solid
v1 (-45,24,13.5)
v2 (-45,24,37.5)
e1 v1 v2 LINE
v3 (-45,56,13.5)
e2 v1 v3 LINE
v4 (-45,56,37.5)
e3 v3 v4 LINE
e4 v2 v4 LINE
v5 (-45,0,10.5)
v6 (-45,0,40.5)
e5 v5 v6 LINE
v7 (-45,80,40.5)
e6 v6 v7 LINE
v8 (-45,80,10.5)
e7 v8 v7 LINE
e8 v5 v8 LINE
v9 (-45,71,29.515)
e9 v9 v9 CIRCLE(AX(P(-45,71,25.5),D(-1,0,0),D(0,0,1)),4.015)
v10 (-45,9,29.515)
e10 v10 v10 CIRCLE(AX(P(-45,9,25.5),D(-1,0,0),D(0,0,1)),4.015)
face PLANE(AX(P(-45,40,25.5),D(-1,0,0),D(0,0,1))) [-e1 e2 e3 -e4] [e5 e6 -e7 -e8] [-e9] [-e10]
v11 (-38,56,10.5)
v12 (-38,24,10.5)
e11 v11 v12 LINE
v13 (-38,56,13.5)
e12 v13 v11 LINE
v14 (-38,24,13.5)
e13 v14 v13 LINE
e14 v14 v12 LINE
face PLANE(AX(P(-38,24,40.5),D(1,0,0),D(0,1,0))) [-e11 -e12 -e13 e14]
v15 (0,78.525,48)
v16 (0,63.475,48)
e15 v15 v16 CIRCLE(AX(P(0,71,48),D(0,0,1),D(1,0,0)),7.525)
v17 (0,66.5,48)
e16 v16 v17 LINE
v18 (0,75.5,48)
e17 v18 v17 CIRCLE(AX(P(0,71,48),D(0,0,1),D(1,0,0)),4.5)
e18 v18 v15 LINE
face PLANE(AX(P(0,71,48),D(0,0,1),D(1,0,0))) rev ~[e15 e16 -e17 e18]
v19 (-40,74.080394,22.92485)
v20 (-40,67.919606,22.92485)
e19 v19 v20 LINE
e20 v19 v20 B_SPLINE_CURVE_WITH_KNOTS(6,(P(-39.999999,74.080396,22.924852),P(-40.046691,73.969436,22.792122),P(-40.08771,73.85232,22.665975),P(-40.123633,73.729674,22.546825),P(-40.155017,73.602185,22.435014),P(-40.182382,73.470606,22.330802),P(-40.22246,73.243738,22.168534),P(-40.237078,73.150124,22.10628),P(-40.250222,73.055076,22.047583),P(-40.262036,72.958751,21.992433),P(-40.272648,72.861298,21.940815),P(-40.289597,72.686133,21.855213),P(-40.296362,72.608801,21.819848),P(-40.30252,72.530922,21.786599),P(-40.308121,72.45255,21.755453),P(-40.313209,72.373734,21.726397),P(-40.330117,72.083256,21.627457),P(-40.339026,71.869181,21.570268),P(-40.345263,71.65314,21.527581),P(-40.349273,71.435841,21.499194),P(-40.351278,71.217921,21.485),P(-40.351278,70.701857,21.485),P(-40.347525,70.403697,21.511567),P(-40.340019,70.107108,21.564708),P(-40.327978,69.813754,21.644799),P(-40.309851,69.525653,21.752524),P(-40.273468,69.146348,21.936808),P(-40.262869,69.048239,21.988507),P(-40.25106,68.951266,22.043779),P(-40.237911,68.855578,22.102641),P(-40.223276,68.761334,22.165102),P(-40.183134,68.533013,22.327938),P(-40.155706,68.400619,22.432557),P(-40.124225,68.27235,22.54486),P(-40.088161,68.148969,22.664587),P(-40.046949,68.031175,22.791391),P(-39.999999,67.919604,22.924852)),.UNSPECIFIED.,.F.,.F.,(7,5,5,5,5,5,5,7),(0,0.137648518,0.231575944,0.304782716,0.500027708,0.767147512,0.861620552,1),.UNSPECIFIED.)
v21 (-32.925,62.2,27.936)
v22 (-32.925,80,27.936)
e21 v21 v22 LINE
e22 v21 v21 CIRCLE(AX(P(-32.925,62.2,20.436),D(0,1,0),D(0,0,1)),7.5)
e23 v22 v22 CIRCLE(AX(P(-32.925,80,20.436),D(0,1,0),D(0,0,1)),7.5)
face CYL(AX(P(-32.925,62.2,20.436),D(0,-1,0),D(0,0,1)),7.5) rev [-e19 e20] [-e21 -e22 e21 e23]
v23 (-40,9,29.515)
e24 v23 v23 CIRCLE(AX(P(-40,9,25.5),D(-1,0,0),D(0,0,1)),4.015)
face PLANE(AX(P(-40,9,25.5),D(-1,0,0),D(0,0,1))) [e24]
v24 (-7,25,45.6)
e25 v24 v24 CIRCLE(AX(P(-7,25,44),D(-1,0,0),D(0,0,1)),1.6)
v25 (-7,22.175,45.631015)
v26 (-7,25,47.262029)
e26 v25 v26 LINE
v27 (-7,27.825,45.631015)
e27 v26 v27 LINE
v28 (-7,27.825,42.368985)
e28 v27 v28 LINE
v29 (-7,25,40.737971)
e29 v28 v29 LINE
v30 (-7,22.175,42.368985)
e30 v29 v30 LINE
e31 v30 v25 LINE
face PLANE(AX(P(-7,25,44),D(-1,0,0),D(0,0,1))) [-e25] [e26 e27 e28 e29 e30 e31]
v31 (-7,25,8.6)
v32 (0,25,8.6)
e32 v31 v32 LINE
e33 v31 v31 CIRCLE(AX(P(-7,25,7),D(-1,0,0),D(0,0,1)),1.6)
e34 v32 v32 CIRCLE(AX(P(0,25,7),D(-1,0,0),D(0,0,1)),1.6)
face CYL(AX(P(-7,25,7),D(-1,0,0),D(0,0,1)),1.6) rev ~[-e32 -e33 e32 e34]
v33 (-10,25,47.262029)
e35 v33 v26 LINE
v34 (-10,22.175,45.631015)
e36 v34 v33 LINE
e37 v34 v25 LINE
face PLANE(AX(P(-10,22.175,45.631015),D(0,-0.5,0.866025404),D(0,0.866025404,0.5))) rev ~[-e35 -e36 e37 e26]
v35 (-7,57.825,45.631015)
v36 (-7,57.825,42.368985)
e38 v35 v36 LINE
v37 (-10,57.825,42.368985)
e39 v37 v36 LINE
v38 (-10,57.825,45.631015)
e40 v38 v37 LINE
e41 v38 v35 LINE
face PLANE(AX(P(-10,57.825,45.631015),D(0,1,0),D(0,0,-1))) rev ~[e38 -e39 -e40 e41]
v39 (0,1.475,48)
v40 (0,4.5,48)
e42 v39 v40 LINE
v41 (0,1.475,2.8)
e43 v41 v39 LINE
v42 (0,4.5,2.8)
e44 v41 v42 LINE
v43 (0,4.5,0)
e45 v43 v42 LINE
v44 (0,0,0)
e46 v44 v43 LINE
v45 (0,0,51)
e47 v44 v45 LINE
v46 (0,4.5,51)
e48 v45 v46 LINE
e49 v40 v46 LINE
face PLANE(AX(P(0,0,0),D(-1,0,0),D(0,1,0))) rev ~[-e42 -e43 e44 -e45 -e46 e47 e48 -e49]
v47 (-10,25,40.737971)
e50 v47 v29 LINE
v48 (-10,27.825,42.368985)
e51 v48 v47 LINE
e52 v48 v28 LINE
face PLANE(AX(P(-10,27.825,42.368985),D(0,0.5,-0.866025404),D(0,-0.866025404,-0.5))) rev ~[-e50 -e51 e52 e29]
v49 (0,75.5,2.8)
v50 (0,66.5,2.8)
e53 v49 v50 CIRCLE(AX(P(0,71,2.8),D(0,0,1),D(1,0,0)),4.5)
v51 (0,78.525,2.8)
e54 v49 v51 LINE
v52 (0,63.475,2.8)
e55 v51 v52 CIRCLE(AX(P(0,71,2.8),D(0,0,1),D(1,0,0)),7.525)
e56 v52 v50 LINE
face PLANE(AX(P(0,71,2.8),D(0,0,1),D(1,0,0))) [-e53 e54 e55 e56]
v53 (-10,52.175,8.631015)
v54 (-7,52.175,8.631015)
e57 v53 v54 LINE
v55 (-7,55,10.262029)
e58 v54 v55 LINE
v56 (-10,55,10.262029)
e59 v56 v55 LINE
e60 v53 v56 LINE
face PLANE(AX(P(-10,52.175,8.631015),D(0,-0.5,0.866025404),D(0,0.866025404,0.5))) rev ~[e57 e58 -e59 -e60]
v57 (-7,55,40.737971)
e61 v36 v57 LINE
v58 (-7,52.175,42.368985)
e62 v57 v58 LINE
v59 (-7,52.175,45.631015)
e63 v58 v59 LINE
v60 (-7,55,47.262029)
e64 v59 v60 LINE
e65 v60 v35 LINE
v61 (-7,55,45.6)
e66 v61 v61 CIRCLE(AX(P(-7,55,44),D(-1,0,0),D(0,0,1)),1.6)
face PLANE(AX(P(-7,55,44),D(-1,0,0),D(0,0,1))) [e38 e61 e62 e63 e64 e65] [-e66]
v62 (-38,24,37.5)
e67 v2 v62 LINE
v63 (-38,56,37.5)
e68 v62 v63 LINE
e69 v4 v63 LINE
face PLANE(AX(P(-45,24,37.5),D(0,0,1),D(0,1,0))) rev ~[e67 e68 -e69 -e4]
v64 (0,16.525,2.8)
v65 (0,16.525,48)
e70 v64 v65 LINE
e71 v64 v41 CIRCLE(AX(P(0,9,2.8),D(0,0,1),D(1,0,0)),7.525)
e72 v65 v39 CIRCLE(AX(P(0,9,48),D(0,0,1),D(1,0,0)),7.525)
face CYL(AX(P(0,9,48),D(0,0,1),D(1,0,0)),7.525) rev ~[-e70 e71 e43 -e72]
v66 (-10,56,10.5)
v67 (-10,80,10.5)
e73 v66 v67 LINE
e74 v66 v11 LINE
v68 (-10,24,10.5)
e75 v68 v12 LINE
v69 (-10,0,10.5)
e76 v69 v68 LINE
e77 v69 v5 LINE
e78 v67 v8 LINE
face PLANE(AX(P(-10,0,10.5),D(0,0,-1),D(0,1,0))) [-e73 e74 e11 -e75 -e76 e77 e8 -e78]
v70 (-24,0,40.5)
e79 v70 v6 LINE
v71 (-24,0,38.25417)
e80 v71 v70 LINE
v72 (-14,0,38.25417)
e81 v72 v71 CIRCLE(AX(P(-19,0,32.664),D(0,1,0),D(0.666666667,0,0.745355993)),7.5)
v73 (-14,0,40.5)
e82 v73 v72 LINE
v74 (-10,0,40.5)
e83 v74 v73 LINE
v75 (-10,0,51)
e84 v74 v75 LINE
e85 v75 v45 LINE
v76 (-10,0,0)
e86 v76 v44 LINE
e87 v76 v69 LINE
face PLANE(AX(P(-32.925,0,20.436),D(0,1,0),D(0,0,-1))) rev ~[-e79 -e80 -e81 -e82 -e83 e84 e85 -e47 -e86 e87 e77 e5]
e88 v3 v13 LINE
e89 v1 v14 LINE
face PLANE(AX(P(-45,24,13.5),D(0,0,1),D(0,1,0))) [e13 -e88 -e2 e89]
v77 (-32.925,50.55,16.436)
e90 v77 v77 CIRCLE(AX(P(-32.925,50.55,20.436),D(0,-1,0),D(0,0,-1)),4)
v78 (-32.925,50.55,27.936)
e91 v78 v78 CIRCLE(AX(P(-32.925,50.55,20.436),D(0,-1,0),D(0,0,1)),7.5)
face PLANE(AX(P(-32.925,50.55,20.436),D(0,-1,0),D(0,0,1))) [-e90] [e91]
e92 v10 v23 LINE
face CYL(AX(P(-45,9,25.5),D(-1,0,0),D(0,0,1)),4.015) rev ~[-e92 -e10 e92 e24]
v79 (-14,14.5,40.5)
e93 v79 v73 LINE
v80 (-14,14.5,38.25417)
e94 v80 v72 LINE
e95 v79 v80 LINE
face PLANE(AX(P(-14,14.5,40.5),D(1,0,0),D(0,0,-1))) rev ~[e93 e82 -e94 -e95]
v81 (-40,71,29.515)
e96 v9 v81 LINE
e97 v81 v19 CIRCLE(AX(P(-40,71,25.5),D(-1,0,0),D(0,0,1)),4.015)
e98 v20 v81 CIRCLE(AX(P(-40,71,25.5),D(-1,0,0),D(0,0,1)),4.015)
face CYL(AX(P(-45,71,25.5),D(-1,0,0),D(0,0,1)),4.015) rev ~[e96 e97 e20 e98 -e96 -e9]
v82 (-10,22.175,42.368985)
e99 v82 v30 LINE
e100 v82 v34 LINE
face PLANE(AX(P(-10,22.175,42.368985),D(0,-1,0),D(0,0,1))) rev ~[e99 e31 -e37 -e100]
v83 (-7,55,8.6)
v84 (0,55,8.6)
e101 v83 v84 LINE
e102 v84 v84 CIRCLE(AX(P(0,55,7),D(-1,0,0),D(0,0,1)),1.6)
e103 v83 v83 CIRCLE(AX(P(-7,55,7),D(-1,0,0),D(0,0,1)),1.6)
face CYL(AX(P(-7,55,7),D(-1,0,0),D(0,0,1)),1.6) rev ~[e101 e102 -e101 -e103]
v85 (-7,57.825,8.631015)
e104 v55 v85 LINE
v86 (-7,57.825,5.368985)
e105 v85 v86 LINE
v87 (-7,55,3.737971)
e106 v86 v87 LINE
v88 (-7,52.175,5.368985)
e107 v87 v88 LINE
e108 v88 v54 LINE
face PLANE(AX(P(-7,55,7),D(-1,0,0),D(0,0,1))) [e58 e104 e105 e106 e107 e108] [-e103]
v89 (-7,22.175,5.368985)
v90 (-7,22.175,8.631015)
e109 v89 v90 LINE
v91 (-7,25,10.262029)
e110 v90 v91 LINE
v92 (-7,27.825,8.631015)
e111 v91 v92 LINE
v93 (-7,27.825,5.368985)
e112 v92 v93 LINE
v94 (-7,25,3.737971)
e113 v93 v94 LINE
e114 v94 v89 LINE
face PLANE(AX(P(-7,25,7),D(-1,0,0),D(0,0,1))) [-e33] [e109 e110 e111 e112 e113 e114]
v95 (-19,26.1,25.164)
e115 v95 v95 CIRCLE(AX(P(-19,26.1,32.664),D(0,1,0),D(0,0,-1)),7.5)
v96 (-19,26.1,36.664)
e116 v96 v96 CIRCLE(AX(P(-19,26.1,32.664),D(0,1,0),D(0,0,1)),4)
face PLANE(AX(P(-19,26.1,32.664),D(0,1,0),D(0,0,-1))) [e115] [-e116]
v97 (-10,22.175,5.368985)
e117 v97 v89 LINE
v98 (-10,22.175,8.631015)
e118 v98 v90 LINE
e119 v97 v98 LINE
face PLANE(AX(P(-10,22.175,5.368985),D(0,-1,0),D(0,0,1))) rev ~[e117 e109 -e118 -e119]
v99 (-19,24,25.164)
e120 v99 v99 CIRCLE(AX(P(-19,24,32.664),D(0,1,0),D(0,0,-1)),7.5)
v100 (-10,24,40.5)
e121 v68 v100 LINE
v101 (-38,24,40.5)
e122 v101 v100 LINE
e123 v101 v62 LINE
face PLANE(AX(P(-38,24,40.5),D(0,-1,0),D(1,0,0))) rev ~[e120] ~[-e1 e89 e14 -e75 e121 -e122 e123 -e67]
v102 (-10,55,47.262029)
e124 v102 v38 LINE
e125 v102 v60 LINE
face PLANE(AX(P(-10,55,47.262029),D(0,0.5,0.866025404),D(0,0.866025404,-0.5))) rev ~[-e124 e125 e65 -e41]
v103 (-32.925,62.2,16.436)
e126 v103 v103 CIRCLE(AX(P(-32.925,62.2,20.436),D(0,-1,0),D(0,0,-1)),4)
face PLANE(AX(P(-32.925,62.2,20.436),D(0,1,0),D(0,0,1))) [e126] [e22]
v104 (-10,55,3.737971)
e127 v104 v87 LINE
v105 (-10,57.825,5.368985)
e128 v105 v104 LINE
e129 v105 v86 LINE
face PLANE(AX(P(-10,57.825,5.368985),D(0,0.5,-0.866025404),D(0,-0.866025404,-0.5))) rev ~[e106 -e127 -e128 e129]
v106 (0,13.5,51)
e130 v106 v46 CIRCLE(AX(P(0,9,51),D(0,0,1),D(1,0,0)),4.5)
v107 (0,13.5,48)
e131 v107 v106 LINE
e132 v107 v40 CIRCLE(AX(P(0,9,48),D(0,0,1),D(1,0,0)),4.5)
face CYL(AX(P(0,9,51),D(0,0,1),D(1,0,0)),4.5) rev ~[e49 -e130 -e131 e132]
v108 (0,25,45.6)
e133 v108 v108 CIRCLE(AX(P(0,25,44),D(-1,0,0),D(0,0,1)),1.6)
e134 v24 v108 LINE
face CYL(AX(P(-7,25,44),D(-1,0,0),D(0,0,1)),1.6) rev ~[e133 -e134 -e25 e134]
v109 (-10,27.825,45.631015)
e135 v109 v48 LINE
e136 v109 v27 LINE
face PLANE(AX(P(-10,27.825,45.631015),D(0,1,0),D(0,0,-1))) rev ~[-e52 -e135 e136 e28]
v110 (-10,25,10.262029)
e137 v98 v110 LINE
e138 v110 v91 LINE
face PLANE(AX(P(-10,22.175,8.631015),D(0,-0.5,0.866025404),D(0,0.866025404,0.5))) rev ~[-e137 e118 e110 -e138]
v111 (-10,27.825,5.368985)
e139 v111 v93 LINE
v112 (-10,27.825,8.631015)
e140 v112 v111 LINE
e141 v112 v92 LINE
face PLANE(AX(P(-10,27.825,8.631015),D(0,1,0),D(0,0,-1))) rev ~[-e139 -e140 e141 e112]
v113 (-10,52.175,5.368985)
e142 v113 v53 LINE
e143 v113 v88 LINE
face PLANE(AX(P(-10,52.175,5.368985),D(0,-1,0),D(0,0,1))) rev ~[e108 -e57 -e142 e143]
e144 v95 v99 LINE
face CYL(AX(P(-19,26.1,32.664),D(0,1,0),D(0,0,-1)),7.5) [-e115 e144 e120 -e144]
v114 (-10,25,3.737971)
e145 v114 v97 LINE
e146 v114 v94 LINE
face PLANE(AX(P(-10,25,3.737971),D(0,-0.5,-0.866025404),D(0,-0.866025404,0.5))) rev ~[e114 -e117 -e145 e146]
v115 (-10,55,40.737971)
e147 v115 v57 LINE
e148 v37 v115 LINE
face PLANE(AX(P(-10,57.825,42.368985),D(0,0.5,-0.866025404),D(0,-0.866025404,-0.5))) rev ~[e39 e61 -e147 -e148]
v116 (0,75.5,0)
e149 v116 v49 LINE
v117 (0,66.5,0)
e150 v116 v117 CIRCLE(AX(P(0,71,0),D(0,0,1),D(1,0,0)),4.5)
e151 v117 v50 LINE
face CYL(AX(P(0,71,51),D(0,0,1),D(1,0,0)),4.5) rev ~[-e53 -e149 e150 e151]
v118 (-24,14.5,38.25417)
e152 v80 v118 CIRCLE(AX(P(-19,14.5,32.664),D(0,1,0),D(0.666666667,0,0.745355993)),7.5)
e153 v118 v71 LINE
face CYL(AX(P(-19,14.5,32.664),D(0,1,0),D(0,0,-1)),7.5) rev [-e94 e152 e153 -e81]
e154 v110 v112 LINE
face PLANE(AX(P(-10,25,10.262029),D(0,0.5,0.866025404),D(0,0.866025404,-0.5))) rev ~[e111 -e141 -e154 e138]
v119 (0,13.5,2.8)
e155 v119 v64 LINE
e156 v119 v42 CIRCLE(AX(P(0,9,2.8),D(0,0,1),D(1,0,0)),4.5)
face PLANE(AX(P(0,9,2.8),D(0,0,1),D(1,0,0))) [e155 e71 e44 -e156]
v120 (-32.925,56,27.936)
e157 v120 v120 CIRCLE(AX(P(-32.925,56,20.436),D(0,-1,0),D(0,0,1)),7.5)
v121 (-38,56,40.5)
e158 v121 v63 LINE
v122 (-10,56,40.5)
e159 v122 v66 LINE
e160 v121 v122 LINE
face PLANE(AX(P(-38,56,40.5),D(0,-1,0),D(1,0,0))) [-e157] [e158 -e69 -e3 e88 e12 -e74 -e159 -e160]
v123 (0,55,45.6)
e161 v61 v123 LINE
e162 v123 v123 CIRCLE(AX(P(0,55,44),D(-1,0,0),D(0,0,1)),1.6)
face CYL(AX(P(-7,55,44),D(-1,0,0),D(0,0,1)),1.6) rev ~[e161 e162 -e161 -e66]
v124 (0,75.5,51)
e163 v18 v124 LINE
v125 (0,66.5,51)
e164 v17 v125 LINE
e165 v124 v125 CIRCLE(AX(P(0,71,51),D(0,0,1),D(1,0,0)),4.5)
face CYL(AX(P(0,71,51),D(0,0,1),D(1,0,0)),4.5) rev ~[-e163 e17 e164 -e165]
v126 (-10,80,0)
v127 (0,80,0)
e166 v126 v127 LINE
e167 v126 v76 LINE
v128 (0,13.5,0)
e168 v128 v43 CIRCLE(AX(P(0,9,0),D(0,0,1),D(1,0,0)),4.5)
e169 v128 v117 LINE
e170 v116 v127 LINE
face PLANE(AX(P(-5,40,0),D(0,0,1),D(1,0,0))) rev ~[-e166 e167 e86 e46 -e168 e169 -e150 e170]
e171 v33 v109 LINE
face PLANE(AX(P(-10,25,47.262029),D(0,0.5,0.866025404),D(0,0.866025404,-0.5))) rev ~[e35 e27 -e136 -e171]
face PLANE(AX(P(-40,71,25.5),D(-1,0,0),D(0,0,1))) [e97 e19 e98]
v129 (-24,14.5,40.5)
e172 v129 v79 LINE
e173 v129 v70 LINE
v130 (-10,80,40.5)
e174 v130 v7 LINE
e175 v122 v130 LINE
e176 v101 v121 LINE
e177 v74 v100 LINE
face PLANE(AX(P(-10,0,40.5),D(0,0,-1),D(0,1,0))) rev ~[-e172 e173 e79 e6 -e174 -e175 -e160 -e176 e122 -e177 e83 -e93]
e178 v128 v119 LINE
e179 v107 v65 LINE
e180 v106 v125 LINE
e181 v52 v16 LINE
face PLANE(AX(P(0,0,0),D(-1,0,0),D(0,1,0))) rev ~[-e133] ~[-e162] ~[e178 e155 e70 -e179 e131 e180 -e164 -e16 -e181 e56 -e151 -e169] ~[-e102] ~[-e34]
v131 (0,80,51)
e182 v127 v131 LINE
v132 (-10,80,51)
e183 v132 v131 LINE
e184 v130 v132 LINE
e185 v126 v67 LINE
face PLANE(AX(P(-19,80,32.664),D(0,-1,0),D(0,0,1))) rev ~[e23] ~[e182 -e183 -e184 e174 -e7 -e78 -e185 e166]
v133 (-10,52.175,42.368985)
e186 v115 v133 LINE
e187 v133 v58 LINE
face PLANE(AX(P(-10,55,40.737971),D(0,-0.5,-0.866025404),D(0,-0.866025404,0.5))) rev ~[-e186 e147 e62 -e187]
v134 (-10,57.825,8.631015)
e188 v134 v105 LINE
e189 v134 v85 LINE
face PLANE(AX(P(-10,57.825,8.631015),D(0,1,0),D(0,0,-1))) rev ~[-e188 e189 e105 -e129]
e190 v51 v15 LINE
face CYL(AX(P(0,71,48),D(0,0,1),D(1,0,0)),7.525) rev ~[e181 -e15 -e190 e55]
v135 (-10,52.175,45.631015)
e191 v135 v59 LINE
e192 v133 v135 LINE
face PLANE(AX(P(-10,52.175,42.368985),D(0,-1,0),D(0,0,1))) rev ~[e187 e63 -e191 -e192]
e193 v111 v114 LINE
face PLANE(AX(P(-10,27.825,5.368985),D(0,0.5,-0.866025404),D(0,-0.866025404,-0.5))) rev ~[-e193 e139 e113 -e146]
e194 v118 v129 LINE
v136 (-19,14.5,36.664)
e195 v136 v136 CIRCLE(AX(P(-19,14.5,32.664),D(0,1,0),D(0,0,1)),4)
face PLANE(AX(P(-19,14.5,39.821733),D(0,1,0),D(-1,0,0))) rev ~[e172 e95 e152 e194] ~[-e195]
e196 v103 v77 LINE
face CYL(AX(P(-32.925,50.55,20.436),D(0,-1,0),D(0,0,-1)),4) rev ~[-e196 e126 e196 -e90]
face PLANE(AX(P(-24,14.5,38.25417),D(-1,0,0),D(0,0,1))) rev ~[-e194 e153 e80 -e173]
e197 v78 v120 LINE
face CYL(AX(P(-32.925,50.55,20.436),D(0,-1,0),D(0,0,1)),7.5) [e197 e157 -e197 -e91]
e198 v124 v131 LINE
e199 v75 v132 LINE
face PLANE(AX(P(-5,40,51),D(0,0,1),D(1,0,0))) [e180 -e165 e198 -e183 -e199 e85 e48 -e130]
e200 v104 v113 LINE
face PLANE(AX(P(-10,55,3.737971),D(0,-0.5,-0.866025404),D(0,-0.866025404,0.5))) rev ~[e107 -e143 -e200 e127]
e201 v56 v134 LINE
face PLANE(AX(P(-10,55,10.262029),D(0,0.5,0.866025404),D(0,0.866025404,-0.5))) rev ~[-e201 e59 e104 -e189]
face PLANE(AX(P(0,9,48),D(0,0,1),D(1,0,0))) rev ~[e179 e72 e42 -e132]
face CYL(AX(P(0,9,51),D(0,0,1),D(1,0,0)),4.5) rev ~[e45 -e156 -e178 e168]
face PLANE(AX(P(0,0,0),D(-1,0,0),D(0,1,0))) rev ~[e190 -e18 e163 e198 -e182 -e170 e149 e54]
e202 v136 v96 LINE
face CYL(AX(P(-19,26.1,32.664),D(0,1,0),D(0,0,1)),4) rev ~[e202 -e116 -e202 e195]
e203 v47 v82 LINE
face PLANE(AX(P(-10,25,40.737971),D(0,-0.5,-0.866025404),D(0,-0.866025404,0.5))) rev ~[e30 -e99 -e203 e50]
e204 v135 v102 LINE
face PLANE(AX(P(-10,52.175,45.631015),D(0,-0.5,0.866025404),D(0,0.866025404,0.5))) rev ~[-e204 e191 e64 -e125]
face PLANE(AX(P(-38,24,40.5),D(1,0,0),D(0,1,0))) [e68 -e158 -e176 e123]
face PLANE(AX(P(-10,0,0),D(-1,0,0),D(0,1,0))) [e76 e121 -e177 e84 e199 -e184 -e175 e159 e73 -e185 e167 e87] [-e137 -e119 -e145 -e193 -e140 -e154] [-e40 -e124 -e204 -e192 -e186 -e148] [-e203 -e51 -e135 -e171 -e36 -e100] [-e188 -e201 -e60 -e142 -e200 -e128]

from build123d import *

# Parameters (mm, degrees)
SKETCH1_W           = 10
SKETCH1_H           = 80
BOSS_EXTRUDE1_DEPTH = 51
SKETCH2_R           = 7.525
CUT_EXTRUDE1_DEPTH  = 45.2
SKETCH3_R           = 4.5
CUT_EXTRUDE2_DEPTH  = 96.399161422
SKETCH4_W           = 30
SKETCH4_H           = 80
BOSS_EXTRUDE2_DEPTH = 35
SKETCH6_R           = 4.015
CUT_EXTRUDE3_DEPTH  = 5
SKETCH7_W           = 24
SKETCH7_H           = 32
CUT_EXTRUDE4_DEPTH  = 35
SKETCH8_W           = 28
SKETCH8_H           = 32
CUT_EXTRUDE5_DEPTH  = 101.325719534
CUT_EXTRUDE9_DEPTH  = 3
SKETCH15_R          = 1.6
CUT_EXTRUDE10_DEPTH = 103.200782776
SKETCH16_R          = 4
CUT_EXTRUDE11_DEPTH = 106.004761797
SKETCH19_R          = 4
CUT_EXTRUDE13_DEPTH = 106.004761797
BOSS_EXTRUDE3_START = 5.45
SKETCH20_R          = 7.5
SKETCH20_R_2        = 4
BOSS_EXTRUDE3_DEPTH = 5.45
BOSS_EXTRUDE4_START = 2.1
SKETCH21_R          = 7.5
SKETCH21_R_2        = 4
BOSS_EXTRUDE4_DEPTH = 2.1
BOSS_EXTRUDE5_START = -24
SKETCH22_R          = 4
BOSS_EXTRUDE5_DEPTH = 24
BOSS_EXTRUDE6_START = -24
SKETCH23_R          = 4
BOSS_EXTRUDE6_DEPTH = 24
CUT_EXTRUDE14_START = -17.8
SKETCH24_R          = 7.5
CUT_EXTRUDE14_DEPTH = 17.8
CUT_EXTRUDE15_START = -14.5
SKETCH25_R          = 7.5
CUT_EXTRUDE15_DEPTH = 14.5
CUT_EXTRUDE16_START = -14.5
CUT_EXTRUDE16_DEPTH = 14.5


with BuildPart() as part:
    # Sketch1 → Boss-Extrude1 (new body)
    with BuildSketch(Plane.XY):
        with Locations((-5, 40)):
            Rectangle(SKETCH1_W, SKETCH1_H)
    extrude(amount=BOSS_EXTRUDE1_DEPTH)

    # Sketch2 → Cut-Extrude1 (cut)
    with BuildSketch(Plane.XY.offset(48)):
        with Locations((0, 71)):
            Circle(SKETCH2_R)
        with Locations((0, 9)):
            Circle(SKETCH2_R)
    extrude(amount=-CUT_EXTRUDE1_DEPTH, mode=Mode.SUBTRACT)

    # Sketch3 → Cut-Extrude2 (cut, through all)
    with BuildSketch(Plane.XY.offset(51)):
        with Locations((0, 71)):
            Circle(SKETCH3_R)
        with Locations((0, 9)):
            Circle(SKETCH3_R)
    extrude(amount=-CUT_EXTRUDE2_DEPTH, mode=Mode.SUBTRACT)

    # Sketch4 → Boss-Extrude2 (add)
    with BuildSketch(Plane.ZY.offset(10)):
        with Locations((25.5, 40)):
            Rectangle(SKETCH4_W, SKETCH4_H)
    extrude(amount=BOSS_EXTRUDE2_DEPTH)

    # Sketch6 → Cut-Extrude3 (cut)
    with BuildSketch(Plane.ZY.offset(45)):
        with Locations((25.5, 71)):
            Circle(SKETCH6_R)
        with Locations((25.5, 9)):
            Circle(SKETCH6_R)
    extrude(amount=-CUT_EXTRUDE3_DEPTH, mode=Mode.SUBTRACT)

    # Sketch7 → Cut-Extrude4 (cut)
    with BuildSketch(Plane.ZY.offset(45)):
        with Locations((25.5, 40)):
            Rectangle(SKETCH7_W, SKETCH7_H)
    extrude(amount=-CUT_EXTRUDE4_DEPTH, mode=Mode.SUBTRACT)

    # Sketch8 → Cut-Extrude5 (cut, through all)
    with BuildSketch(Plane.XY.offset(40.5)):
        with Locations((-24, 40)):
            Rectangle(SKETCH8_W, SKETCH8_H)
    extrude(amount=-CUT_EXTRUDE5_DEPTH, mode=Mode.SUBTRACT)

    # Sketch14 → Cut-Extrude9 (cut)
    with BuildSketch(Plane.ZY.offset(10)):
        Polygon((47.262029021, 55), (45.63101451, 57.825), (42.36898549, 57.825), (40.737970979, 55), (42.36898549, 52.175), (45.63101451, 52.175), align=None)
        Polygon((10.262029021, 55), (8.63101451, 57.825), (5.36898549, 57.825), (3.737970979, 55), (5.36898549, 52.175), (8.63101451, 52.175), align=None)
        Polygon((10.262029021, 25), (8.63101451, 27.825), (5.36898549, 27.825), (3.737970979, 25), (5.36898549, 22.175), (8.63101451, 22.175), align=None)
        Polygon((47.262029021, 25), (45.63101451, 27.825), (42.36898549, 27.825), (40.737970979, 25), (42.36898549, 22.175), (45.63101451, 22.175), align=None)
    extrude(amount=-CUT_EXTRUDE9_DEPTH, mode=Mode.SUBTRACT)

    # Sketch15 → Cut-Extrude10 (cut, through all)
    with BuildSketch(Plane.ZY.offset(7)):
        with Locations((44, 55)):
            Circle(SKETCH15_R)
        with Locations((7, 55)):
            Circle(SKETCH15_R)
        with Locations((7, 25)):
            Circle(SKETCH15_R)
        with Locations((44, 25)):
            Circle(SKETCH15_R)
    extrude(amount=-CUT_EXTRUDE10_DEPTH, mode=Mode.SUBTRACT)

    # Sketch16 → Cut-Extrude11 (cut, through all)
    with BuildSketch(Plane(origin=(0, 80, 0), x_dir=(1, 0, 0), z_dir=(0, 1, 0))):
        with Locations(Location((-19, -32.664, 0), (0, 0, 270))):
            Circle(SKETCH16_R)
    extrude(amount=-CUT_EXTRUDE11_DEPTH, mode=Mode.SUBTRACT)

    # Sketch19 → Cut-Extrude13 (cut, through all)
    with BuildSketch(Plane.XZ):
        with Locations(Location((-32.925, 20.436, 0), (0, 0, 270))):
            Circle(SKETCH19_R)
    extrude(amount=-CUT_EXTRUDE13_DEPTH, mode=Mode.SUBTRACT)

    # Sketch20 → Boss-Extrude3 (add)
    with BuildSketch(Plane.XZ.offset(-56).offset(BOSS_EXTRUDE3_START)):
        with Locations(Location((-32.925, 20.436, 0), (0, 0, 90))):
            Circle(SKETCH20_R)
        with Locations(Location((-32.925, 20.436, 0), (0, 0, 270))):
            Circle(SKETCH20_R_2, mode=Mode.SUBTRACT)
    extrude(amount=-BOSS_EXTRUDE3_DEPTH)

    # Sketch21 → Boss-Extrude4 (add)
    with BuildSketch(Plane(origin=(0, 24, 0), x_dir=(1, 0, 0), z_dir=(0, 1, 0)).offset(BOSS_EXTRUDE4_START)):
        with Locations(Location((-19, -32.664, 0), (0, 0, 90))):
            Circle(SKETCH21_R)
        with Locations(Location((-19, -32.664, 0), (0, 0, 270))):
            Circle(SKETCH21_R_2, mode=Mode.SUBTRACT)
    extrude(amount=-BOSS_EXTRUDE4_DEPTH)

    # Sketch22 → Boss-Extrude5 (add)
    with BuildSketch(Plane.XZ.offset(-56).offset(BOSS_EXTRUDE5_START)):
        with Locations(Location((-19, 32.664, 0), (0, 0, 90))):
            Circle(SKETCH22_R)
    extrude(amount=BOSS_EXTRUDE5_DEPTH)

    # Sketch23 → Boss-Extrude6 (add)
    with BuildSketch(Plane(origin=(0, 24, 0), x_dir=(1, 0, 0), z_dir=(0, 1, 0)).offset(BOSS_EXTRUDE6_START)):
        with Locations(Location((-32.925, -20.436, 0), (0, 0, 90))):
            Circle(SKETCH23_R)
    extrude(amount=BOSS_EXTRUDE6_DEPTH)

    # Sketch24 → Cut-Extrude14 (cut)
    with BuildSketch(Plane(origin=(0, 80, 0), x_dir=(1, 0, 0), z_dir=(0, 1, 0)).offset(CUT_EXTRUDE14_START)):
        with Locations(Location((-32.925, -20.436, 0), (0, 0, 270))):
            Circle(SKETCH24_R)
    extrude(amount=CUT_EXTRUDE14_DEPTH, mode=Mode.SUBTRACT)

    # Sketch25 → Cut-Extrude15 (cut)
    with BuildSketch(Plane.XZ.offset(CUT_EXTRUDE15_START)):
        with Locations(Location((-19, 32.664, 0), (0, 0, 270))):
            Circle(SKETCH25_R)
    extrude(amount=CUT_EXTRUDE15_DEPTH, mode=Mode.SUBTRACT)

    # Sketch26 → Cut-Extrude16 (cut)
    with BuildSketch(Plane.XZ.offset(CUT_EXTRUDE16_START)):
        with BuildLine():
            Line((-14, 40.5), (-14, 38.254169944))
            ThreePointArc((-14, 38.254169944), (-19, 40.164), (-24, 38.254169944))
            Line((-24, 38.254169944), (-24, 40.5))
            Line((-24, 40.5), (-14, 40.5))
        make_face()
    extrude(amount=CUT_EXTRUDE16_DEPTH, mode=Mode.SUBTRACT)


solid = part.part
